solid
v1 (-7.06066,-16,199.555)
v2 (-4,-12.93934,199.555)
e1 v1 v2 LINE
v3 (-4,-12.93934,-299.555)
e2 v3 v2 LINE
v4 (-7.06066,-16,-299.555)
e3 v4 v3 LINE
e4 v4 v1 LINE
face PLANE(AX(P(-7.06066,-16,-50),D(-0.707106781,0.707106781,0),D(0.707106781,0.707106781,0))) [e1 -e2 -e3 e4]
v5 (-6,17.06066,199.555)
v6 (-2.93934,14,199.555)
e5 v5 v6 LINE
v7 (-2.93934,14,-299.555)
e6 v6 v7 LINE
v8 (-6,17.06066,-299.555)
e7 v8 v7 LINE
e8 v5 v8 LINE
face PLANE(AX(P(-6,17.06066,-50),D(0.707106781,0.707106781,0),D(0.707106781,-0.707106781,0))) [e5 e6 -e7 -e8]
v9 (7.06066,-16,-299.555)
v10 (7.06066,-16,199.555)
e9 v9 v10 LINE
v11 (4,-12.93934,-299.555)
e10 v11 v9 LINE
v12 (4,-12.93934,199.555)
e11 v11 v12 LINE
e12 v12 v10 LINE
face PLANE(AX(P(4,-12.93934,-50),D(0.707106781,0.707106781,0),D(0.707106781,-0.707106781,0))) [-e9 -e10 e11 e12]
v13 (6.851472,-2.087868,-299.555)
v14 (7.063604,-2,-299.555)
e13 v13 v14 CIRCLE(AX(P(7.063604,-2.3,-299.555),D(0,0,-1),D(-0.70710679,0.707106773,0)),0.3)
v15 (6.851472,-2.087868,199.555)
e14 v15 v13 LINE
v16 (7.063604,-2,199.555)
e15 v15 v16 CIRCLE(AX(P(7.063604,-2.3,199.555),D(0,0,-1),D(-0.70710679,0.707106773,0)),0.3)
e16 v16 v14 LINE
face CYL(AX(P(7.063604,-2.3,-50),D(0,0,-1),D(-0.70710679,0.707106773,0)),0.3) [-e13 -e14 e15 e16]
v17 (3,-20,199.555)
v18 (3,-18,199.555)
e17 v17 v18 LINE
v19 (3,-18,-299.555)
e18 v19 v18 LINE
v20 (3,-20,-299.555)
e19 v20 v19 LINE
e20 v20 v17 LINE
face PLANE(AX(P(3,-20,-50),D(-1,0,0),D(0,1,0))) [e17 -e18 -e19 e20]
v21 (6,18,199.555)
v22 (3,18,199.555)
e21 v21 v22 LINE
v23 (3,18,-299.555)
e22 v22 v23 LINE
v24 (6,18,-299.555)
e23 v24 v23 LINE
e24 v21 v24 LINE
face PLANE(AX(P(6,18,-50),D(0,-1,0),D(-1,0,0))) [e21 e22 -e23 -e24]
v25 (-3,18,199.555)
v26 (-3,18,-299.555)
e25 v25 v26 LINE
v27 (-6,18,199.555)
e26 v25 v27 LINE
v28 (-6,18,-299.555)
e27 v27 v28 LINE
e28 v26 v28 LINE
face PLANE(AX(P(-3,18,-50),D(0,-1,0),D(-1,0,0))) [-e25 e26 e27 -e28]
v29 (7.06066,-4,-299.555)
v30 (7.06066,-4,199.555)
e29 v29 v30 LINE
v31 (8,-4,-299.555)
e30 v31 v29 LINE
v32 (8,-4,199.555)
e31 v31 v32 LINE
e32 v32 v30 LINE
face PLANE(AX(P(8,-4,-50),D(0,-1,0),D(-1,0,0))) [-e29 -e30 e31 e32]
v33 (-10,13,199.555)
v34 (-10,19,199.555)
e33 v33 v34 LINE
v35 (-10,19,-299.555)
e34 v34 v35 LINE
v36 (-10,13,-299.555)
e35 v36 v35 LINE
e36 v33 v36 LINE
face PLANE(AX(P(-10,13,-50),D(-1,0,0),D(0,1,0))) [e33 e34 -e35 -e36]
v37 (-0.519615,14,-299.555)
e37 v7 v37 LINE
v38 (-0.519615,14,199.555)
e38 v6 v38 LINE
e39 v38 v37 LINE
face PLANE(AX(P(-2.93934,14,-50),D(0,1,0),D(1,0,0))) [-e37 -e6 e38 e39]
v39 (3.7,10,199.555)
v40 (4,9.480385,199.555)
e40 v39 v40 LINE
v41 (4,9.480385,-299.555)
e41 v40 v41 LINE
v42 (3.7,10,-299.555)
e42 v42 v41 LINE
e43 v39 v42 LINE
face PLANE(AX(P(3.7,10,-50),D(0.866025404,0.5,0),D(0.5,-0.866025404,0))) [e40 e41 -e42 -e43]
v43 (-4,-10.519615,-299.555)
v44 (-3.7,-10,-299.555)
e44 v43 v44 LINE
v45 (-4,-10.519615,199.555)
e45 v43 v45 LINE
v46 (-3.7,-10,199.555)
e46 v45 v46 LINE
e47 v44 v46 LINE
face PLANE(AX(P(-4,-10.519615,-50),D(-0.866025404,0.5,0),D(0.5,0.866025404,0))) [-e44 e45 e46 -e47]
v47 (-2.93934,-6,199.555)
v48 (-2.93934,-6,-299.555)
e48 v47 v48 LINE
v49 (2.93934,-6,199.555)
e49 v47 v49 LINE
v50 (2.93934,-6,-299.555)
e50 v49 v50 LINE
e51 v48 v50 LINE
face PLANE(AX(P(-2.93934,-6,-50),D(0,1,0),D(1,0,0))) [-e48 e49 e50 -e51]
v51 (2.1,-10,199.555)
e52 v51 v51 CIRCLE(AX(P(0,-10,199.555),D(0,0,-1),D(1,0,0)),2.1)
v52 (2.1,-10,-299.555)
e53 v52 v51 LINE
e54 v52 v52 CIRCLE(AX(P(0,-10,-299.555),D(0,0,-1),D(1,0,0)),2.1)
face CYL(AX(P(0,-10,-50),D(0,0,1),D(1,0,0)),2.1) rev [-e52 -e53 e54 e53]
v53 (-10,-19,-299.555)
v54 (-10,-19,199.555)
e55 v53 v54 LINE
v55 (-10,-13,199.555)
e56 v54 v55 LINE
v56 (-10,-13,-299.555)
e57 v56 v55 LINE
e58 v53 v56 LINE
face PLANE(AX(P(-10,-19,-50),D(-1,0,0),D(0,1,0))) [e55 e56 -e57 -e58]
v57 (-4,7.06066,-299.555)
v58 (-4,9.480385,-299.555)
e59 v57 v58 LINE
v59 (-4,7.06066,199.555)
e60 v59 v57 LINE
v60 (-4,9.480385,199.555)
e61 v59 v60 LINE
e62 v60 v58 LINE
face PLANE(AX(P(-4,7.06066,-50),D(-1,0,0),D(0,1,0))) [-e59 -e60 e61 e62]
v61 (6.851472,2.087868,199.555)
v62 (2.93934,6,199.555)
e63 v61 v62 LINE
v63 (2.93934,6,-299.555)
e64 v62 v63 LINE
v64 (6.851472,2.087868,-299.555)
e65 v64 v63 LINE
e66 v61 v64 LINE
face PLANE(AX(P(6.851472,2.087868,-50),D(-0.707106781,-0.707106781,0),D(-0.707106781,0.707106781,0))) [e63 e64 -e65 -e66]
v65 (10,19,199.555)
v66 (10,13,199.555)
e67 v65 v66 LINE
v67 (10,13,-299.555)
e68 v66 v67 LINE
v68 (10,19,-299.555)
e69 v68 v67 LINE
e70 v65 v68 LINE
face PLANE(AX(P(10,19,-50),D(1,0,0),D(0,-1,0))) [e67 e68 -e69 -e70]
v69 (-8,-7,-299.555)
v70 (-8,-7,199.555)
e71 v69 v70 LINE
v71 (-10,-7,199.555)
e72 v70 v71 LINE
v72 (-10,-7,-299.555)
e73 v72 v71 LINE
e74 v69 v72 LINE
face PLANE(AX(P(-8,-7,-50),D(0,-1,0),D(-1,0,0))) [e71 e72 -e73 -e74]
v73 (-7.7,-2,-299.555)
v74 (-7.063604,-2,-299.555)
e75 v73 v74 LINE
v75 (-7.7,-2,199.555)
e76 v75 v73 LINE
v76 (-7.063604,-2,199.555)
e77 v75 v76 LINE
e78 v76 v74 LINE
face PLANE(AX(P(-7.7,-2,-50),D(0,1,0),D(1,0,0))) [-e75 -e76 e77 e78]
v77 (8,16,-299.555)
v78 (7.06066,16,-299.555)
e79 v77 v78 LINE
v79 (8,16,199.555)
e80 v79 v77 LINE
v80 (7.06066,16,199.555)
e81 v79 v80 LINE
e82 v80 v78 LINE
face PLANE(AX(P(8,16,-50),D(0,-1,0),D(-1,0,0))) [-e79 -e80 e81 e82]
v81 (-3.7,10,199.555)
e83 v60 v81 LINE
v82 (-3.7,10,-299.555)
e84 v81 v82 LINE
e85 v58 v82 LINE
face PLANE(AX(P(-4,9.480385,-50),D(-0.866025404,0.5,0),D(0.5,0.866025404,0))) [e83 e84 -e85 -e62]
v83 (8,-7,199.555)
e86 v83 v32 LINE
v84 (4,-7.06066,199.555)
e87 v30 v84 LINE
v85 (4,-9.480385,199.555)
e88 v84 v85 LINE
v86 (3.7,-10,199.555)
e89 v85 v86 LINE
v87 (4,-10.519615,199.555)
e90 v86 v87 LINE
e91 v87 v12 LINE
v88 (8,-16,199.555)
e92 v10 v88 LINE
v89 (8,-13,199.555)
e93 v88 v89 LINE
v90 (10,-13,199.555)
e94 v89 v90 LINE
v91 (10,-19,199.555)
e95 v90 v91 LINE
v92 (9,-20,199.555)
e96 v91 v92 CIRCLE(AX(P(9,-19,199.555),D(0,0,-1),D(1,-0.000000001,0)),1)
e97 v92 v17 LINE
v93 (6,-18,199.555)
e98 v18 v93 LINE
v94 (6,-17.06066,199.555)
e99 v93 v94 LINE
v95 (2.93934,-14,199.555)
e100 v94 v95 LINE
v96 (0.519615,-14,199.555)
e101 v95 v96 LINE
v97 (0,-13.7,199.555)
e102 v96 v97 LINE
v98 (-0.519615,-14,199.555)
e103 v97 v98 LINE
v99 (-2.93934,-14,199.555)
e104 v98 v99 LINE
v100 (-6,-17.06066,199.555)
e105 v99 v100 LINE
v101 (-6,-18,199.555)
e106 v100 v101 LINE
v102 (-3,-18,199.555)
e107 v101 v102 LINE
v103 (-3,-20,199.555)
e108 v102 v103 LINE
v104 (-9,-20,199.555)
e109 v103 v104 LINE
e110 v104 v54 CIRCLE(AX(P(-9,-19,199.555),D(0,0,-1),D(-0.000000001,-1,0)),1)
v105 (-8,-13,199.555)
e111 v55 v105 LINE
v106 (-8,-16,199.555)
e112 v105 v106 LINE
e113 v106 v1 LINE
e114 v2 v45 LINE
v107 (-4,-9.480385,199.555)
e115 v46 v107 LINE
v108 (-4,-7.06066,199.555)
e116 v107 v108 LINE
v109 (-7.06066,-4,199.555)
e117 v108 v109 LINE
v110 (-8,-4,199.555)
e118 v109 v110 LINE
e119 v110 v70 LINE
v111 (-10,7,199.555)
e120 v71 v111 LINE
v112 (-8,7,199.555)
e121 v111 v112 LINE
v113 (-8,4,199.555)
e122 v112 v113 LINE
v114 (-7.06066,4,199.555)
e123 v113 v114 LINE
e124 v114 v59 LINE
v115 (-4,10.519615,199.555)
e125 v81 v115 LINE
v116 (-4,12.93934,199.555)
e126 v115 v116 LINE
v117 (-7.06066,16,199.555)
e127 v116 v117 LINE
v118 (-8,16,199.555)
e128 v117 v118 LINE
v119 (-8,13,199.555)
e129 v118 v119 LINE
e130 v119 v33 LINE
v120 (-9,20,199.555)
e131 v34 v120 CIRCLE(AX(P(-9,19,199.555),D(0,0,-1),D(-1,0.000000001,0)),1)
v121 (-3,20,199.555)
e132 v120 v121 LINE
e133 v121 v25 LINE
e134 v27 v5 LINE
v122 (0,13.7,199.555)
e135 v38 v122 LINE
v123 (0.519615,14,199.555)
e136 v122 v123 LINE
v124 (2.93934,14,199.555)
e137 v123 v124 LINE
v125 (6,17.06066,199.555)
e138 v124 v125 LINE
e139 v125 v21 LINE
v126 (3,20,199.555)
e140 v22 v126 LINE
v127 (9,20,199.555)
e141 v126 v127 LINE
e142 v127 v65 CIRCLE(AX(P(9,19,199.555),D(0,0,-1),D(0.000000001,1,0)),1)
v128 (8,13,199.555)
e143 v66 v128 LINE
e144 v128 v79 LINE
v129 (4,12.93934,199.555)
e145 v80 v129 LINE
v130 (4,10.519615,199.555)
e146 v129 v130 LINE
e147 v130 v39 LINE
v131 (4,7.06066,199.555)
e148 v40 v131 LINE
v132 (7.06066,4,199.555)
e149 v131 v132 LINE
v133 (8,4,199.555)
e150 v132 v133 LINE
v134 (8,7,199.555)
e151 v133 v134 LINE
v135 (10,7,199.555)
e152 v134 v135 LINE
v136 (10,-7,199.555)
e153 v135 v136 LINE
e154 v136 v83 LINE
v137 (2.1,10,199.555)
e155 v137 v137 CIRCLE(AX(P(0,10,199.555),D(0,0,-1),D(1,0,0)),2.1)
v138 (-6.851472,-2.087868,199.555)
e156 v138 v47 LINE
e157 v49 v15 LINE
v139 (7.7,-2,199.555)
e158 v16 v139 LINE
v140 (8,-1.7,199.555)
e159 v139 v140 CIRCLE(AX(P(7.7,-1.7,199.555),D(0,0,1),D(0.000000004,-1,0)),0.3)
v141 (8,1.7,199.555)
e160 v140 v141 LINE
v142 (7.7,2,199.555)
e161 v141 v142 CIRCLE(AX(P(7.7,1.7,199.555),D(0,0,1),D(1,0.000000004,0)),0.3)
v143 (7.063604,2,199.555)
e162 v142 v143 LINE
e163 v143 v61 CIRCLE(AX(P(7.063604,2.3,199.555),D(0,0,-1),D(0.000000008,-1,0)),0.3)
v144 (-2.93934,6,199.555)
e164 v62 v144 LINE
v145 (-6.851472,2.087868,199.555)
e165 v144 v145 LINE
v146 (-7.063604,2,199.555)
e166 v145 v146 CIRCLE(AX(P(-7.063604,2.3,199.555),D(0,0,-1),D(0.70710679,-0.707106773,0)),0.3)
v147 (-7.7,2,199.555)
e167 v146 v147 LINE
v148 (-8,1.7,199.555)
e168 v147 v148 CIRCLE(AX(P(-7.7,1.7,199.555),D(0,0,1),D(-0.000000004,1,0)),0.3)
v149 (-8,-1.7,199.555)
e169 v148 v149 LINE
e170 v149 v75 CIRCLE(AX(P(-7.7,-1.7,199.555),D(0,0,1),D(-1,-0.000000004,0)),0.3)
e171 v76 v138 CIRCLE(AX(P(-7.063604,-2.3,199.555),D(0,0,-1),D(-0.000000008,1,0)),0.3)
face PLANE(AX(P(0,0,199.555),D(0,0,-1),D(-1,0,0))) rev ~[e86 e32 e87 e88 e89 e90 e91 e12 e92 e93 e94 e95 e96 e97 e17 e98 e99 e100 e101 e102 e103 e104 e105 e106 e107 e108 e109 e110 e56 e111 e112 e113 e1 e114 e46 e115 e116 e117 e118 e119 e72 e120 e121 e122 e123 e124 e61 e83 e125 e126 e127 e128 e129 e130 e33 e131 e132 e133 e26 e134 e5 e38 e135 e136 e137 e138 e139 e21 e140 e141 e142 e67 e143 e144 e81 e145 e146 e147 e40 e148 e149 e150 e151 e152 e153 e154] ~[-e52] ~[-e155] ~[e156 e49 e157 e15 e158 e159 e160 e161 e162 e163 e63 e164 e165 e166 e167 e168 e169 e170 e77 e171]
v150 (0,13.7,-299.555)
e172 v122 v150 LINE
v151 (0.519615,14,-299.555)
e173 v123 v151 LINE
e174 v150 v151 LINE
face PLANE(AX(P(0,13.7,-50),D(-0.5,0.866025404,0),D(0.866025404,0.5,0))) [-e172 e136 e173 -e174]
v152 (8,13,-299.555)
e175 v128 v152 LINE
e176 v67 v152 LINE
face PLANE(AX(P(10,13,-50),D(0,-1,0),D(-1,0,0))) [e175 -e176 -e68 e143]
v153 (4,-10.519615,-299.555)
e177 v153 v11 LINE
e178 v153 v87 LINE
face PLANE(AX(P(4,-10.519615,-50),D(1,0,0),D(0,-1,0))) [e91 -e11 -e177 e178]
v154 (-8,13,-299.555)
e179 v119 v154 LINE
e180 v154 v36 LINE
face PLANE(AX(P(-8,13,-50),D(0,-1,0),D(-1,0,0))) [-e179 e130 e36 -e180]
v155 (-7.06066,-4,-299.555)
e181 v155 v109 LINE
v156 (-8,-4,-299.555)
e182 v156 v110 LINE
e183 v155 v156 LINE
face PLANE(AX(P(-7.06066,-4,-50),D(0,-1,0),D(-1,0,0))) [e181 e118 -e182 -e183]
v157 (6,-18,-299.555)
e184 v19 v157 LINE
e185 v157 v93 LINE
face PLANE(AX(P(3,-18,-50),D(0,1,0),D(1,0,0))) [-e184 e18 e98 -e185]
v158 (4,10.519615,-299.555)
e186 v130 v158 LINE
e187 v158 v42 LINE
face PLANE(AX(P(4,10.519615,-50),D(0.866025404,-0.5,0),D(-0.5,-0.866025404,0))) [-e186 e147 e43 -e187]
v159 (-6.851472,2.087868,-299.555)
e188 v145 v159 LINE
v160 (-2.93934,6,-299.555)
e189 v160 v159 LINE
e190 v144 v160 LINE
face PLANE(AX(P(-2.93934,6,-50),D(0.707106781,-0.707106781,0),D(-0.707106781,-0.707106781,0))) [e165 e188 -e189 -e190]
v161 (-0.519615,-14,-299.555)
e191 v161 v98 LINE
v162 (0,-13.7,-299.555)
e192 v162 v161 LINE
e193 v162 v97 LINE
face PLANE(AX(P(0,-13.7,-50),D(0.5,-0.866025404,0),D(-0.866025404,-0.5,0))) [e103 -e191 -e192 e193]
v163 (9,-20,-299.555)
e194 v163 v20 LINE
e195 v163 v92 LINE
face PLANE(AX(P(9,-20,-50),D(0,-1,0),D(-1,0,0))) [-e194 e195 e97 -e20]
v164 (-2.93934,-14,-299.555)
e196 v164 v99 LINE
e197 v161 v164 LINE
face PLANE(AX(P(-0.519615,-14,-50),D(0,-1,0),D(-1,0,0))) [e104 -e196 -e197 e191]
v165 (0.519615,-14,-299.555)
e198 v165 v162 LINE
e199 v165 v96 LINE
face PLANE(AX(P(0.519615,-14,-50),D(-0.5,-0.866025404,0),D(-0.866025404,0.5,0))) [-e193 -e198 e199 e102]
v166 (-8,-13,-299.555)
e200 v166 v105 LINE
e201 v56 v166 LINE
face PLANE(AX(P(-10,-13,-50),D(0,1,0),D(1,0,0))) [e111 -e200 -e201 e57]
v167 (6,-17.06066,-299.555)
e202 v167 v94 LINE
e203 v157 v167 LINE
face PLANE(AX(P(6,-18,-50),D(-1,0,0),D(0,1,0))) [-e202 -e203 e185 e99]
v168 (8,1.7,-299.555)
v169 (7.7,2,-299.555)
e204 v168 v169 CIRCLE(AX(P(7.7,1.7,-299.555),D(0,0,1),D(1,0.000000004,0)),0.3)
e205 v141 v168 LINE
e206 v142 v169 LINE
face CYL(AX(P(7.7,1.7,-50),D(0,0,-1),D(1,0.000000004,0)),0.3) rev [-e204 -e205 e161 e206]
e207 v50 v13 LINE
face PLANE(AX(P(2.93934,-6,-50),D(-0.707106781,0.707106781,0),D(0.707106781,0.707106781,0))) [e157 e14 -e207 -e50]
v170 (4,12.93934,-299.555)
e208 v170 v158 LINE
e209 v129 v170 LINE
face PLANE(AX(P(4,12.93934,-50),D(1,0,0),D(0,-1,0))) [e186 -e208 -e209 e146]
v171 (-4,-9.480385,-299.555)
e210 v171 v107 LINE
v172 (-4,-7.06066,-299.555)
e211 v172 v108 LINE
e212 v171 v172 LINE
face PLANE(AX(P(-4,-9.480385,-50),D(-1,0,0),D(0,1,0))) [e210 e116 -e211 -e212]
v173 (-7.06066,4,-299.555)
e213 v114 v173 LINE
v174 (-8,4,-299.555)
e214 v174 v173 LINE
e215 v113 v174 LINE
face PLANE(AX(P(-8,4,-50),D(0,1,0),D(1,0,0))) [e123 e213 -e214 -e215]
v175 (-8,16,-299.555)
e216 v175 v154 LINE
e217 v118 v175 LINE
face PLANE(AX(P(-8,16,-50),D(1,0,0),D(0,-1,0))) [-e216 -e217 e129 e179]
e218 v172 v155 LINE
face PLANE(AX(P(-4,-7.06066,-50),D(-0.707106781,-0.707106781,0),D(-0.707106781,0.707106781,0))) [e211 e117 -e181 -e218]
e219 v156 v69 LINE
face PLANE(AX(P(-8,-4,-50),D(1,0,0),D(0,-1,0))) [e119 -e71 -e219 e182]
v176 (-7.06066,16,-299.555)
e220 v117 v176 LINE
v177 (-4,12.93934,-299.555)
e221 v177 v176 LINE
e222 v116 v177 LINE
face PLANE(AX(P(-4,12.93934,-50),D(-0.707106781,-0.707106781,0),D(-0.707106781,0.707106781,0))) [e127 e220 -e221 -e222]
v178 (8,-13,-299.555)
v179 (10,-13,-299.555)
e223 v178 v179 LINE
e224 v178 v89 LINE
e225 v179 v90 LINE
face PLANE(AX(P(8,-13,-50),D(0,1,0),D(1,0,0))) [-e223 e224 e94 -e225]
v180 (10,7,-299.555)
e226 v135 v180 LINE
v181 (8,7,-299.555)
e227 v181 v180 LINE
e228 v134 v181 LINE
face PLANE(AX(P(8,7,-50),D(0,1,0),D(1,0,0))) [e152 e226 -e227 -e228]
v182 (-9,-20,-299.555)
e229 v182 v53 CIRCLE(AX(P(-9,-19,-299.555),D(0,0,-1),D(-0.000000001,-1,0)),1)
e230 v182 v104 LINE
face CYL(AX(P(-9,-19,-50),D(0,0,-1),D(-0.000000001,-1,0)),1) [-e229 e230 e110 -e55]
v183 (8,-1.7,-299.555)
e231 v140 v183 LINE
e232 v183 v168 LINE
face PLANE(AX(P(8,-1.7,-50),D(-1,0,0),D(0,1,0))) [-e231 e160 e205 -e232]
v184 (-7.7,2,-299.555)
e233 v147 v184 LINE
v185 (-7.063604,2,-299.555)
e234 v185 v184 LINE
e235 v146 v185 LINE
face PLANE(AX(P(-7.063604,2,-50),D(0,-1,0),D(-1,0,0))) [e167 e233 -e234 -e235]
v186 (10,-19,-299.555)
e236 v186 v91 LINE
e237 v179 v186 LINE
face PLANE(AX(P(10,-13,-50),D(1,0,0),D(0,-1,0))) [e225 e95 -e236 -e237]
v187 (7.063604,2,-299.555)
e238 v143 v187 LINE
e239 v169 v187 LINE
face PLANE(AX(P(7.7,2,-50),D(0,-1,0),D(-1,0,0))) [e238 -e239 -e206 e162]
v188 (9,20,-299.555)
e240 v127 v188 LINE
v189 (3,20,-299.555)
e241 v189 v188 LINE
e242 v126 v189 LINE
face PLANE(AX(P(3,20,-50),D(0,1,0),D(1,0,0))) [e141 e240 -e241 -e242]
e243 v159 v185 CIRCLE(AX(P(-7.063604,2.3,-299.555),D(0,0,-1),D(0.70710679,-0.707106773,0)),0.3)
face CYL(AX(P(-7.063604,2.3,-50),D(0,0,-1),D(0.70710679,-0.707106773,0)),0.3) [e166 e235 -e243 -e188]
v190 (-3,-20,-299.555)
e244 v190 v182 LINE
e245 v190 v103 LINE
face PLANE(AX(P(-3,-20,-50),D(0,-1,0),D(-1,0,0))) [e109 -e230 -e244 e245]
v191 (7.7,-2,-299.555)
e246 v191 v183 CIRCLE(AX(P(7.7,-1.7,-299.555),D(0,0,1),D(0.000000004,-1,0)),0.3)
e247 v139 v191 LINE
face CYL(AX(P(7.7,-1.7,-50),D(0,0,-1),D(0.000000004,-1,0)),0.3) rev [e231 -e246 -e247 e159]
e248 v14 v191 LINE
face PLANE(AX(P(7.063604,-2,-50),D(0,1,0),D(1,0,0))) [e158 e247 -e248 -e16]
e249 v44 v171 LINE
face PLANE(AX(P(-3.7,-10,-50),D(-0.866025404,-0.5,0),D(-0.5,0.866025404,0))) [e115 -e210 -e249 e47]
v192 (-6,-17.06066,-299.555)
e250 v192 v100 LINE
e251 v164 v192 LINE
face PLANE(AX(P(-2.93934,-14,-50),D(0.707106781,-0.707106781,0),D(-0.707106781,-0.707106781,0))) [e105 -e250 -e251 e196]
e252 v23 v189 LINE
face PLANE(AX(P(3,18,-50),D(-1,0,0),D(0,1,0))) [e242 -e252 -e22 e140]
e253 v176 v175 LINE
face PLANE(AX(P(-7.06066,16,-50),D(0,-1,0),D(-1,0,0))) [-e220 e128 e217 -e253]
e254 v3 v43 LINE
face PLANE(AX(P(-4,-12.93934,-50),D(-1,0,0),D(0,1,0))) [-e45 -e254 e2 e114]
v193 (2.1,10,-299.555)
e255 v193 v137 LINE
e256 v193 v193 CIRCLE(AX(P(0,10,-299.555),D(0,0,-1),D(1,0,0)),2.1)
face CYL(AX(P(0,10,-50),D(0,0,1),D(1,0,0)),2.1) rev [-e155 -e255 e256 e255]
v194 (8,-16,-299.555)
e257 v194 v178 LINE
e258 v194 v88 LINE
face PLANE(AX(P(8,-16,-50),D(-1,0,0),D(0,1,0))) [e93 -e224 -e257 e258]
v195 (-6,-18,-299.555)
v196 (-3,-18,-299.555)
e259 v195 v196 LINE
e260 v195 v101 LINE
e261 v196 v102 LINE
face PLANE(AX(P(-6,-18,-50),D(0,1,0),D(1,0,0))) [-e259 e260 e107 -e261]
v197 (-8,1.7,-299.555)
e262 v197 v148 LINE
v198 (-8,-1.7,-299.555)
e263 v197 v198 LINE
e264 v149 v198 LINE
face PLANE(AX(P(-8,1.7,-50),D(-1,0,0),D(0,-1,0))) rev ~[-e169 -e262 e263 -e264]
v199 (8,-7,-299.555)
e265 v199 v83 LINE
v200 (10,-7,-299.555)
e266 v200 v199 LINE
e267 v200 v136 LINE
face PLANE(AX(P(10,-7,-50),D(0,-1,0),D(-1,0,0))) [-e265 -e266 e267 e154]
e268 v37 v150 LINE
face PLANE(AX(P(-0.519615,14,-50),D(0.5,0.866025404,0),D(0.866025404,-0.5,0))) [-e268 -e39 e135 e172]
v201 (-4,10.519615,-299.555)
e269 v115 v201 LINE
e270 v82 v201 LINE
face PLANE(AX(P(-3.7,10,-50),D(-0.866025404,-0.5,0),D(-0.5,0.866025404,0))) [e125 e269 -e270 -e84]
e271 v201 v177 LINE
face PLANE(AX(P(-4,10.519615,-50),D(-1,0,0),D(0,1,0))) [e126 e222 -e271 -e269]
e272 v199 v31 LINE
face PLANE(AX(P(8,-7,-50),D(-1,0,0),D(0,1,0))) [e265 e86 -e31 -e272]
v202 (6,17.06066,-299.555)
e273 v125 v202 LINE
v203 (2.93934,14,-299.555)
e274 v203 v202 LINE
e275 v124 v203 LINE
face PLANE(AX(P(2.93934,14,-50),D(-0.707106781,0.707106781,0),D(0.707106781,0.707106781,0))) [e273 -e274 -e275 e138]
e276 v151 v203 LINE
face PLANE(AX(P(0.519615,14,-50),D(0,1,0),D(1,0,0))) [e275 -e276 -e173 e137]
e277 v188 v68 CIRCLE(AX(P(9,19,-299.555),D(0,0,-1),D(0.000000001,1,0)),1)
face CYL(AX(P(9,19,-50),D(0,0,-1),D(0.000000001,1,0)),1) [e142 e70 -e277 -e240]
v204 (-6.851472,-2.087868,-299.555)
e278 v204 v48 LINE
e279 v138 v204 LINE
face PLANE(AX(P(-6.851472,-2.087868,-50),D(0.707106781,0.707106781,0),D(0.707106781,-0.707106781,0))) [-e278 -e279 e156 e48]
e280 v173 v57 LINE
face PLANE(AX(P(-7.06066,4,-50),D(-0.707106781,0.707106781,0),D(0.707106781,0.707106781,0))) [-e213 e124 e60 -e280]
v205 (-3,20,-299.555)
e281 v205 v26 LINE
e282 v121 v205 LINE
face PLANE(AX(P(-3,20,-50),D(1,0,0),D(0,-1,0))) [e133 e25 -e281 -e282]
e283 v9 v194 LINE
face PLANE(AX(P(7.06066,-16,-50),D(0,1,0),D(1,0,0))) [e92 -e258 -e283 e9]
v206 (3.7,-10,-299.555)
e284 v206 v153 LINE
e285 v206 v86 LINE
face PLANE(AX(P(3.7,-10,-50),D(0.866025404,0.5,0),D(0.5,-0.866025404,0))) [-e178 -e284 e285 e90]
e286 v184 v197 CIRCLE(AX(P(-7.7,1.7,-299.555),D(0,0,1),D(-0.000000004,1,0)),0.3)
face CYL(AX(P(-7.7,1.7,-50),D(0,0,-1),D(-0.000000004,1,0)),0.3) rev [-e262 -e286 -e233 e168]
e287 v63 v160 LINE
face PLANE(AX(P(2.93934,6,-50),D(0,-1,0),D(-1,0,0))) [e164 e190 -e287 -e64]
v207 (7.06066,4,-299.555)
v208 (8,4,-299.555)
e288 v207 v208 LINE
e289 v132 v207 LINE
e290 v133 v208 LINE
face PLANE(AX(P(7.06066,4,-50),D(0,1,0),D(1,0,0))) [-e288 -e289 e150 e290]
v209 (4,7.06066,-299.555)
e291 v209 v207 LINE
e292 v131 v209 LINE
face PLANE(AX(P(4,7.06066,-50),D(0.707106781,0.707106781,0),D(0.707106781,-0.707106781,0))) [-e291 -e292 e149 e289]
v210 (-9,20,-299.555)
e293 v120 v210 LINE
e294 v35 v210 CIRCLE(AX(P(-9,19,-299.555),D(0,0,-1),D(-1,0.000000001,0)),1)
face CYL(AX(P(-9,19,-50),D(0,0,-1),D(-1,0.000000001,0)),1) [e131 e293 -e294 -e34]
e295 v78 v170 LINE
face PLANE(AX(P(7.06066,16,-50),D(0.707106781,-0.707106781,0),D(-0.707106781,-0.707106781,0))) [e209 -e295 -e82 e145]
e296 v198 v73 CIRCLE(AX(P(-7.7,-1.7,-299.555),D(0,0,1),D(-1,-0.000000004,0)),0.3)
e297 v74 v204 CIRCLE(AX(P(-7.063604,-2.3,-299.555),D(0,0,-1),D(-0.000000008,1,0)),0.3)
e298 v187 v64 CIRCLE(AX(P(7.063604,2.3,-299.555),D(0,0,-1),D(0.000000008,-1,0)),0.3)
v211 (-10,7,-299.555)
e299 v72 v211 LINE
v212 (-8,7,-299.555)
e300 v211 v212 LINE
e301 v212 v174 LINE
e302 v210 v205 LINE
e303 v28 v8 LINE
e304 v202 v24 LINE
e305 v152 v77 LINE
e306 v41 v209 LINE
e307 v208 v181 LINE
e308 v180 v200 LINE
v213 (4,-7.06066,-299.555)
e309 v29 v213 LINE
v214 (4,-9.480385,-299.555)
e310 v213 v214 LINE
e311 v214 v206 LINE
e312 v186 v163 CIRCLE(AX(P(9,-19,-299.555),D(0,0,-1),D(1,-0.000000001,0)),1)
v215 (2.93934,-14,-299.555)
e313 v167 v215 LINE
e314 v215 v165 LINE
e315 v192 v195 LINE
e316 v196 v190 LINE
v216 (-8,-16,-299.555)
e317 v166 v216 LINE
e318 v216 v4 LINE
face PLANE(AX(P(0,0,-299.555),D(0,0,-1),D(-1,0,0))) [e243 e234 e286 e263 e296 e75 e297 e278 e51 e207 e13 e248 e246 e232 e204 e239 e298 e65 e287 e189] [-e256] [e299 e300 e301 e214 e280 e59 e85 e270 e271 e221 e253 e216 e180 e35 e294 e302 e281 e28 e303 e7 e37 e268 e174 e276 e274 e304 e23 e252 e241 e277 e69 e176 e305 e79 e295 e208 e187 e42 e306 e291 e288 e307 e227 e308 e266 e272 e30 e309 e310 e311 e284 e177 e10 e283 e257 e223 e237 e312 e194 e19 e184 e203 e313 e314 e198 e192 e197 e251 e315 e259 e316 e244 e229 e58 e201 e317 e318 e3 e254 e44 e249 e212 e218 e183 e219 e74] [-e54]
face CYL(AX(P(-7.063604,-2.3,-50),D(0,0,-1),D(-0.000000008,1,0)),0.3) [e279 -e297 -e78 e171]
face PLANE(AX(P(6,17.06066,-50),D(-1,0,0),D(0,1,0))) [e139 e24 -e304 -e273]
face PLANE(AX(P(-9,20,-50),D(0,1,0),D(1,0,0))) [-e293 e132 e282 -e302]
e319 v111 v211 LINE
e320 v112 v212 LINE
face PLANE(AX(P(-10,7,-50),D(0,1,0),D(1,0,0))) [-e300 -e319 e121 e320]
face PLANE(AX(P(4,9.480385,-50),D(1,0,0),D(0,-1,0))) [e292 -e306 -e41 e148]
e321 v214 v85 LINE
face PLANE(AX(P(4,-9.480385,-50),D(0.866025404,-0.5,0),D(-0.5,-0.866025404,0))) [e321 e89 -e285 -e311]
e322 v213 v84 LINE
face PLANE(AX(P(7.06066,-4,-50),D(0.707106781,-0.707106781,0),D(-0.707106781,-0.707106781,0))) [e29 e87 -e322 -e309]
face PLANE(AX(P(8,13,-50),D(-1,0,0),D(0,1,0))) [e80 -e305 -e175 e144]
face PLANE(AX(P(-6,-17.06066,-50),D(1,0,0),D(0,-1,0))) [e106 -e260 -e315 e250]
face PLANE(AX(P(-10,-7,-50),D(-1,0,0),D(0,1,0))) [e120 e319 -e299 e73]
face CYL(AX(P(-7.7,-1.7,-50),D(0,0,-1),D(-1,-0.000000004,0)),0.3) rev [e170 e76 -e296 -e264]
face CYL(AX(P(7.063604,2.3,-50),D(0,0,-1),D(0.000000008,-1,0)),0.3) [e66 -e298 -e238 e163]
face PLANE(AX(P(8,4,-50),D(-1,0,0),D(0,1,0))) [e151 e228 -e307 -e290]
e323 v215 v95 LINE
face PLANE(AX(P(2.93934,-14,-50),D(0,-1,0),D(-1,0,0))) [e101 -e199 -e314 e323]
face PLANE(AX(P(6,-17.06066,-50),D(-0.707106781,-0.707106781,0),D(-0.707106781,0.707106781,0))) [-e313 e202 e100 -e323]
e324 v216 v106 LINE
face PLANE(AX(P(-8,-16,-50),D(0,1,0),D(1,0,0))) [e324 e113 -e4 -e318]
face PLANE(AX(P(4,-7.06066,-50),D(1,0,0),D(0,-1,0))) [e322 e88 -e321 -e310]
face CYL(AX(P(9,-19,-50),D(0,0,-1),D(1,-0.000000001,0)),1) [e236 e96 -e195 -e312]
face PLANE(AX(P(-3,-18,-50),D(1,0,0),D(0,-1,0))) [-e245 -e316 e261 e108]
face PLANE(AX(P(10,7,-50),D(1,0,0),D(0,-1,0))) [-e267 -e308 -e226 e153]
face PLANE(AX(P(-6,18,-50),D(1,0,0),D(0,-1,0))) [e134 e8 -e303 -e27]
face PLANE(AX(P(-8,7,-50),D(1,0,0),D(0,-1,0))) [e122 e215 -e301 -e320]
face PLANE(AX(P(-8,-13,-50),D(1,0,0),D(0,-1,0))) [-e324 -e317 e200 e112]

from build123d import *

# Parameters (mm, degrees)
SKETCH1_R           = 2.1
BOSS_EXTRUDE1_DEPTH = 249.555


with BuildPart() as part:
    # Sketch1 → Boss-Extrude1 (new, symmetric)
    with BuildSketch(Plane(origin=(0, 0, -50), x_dir=(-1, 0, 0), z_dir=(0, 0, -1))):
        with BuildLine():
            Line((10, -7), (10, 7))
            Line((10, 7), (8, 7))
            Line((8, 7), (8, 4))
            Line((8, 4), (7.060660172, 4))
            Line((7.060660172, 4), (4, 7.060660172))
            Line((4, 7.060660172), (4, 9.480384758))
            Line((4, 9.480384758), (3.7, 10))
            Line((3.7, 10), (4, 10.519615242))
            Line((4, 10.519615242), (4, 12.939339828))
            Line((4, 12.939339828), (7.060660172, 16))
            Line((7.060660172, 16), (8, 16))
            Line((8, 16), (8, 13))
            Line((8, 13), (10, 13))
            Line((10, 13), (10, 19))
            ThreePointArc((10, 19), (9.707106781, 19.707106781), (9, 20))
            Line((9, 20), (3, 20))
            Line((3, 20), (3, 18))
            Line((3, 18), (6, 18))
            Line((6, 18), (6, 17.060660172))
            Line((6, 17.060660172), (2.939339828, 14))
            Line((2.939339828, 14), (0.519615242, 14))
            Line((0.519615242, 14), (0, 13.7))
            Line((0, 13.7), (-0.519615242, 14))
            Line((-0.519615242, 14), (-2.939339828, 14))
            Line((-2.939339828, 14), (-6, 17.060660172))
            Line((-6, 17.060660172), (-6, 18))
            Line((-6, 18), (-3, 18))
            Line((-3, 18), (-3, 20))
            Line((-3, 20), (-9, 20))
            ThreePointArc((-9, 20), (-9.707106781, 19.707106781), (-10, 19))
            Line((-10, 19), (-10, 13))
            Line((-10, 13), (-8, 13))
            Line((-8, 13), (-8, 16))
            Line((-8, 16), (-7.060660172, 16))
            Line((-7.060660172, 16), (-4, 12.939339828))
            Line((-4, 12.939339828), (-4, 10.519615242))
            Line((-4, 10.519615242), (-3.7, 10))
            Line((-3.7, 10), (-4, 9.480384758))
            Line((-4, 9.480384758), (-4, 7.060660172))
            Line((-4, 7.060660172), (-7.060660172, 4))
            Line((-7.060660172, 4), (-8, 4))
            Line((-8, 4), (-8, 7))
            Line((-8, 7), (-10, 7))
            Line((-10, 7), (-10, -7))
            Line((-10, -7), (-8, -7))
            Line((-8, -7), (-8, -4))
            Line((-8, -4), (-7.060660172, -4))
            Line((-7.060660172, -4), (-4, -7.060660172))
            Line((-4, -7.060660172), (-4, -9.480384758))
            Line((-4, -9.480384758), (-3.7, -10))
            Line((-3.7, -10), (-4, -10.519615242))
            Line((-4, -10.519615242), (-4, -12.939339828))
            Line((-4, -12.939339828), (-7.060660172, -16))
            Line((-7.060660172, -16), (-8, -16))
            Line((-8, -16), (-8, -13))
            Line((-8, -13), (-10, -13))
            Line((-10, -13), (-10, -19))
            ThreePointArc((-10, -19), (-9.707106781, -19.707106781), (-9, -20))
            Line((-9, -20), (-3, -20))
            Line((-3, -20), (-3, -18))
            Line((-3, -18), (-6, -18))
            Line((-6, -18), (-6, -17.060660172))
            Line((-6, -17.060660172), (-2.939339828, -14))
            Line((-2.939339828, -14), (-0.519615242, -14))
            Line((-0.519615242, -14), (0, -13.7))
            Line((0, -13.7), (0.519615242, -14))
            Line((0.519615242, -14), (2.939339828, -14))
            Line((2.939339828, -14), (6, -17.060660172))
            Line((6, -17.060660172), (6, -18))
            Line((6, -18), (3, -18))
            Line((3, -18), (3, -20))
            Line((3, -20), (9, -20))
            ThreePointArc((9, -20), (9.707106781, -19.707106781), (10, -19))
            Line((10, -19), (10, -13))
            Line((10, -13), (8, -13))
            Line((8, -13), (8, -16))
            Line((8, -16), (7.060660172, -16))
            Line((7.060660172, -16), (4, -12.939339828))
            Line((4, -12.939339828), (4, -10.519615242))
            Line((4, -10.519615242), (3.7, -10))
            Line((3.7, -10), (4, -9.480384758))
            Line((4, -9.480384758), (4, -7.060660172))
            Line((4, -7.060660172), (7.060660172, -4))
            Line((7.060660172, -4), (8, -4))
            Line((8, -4), (8, -7))
            Line((8, -7), (10, -7))
        make_face()
        with Locations(Location((0, -10, 0), (0, 0, 180))):
            Circle(SKETCH1_R, mode=Mode.SUBTRACT)
        with Locations(Location((0, 10, 0), (0, 0, 180))):
            Circle(SKETCH1_R, mode=Mode.SUBTRACT)
        with BuildLine():
            Line((8, 1.7), (8, -1.7))
            ThreePointArc((8, -1.7), (7.912132034, -1.912132034), (7.7, -2))
            Line((7.7, -2), (7.063603897, -2))
            ThreePointArc((7.063603897, -2), (6.948798867, -2.02283614), (6.851471863, -2.087867966))
            Line((6.851471863, -2.087867966), (2.939339828, -6))
            Line((2.939339828, -6), (-2.939339828, -6))
            Line((-2.939339828, -6), (-6.851471863, -2.087867966))
            ThreePointArc((-6.851471863, -2.087867966), (-6.948798867, -2.02283614), (-7.063603897, -2))
            Line((-7.063603897, -2), (-7.7, -2))
            ThreePointArc((-7.7, -2), (-7.912132034, -1.912132034), (-8, -1.7))
            Line((-8, -1.7), (-8, 1.7))
            ThreePointArc((-8, 1.7), (-7.912132034, 1.912132034), (-7.7, 2))
            Line((-7.7, 2), (-7.063603897, 2))
            ThreePointArc((-7.063603897, 2), (-6.948798867, 2.02283614), (-6.851471863, 2.087867966))
            Line((-6.851471863, 2.087867966), (-2.939339828, 6))
            Line((-2.939339828, 6), (2.939339828, 6))
            Line((2.939339828, 6), (6.851471863, 2.087867966))
            ThreePointArc((6.851471863, 2.087867966), (6.948798867, 2.02283614), (7.063603897, 2))
            Line((7.063603897, 2), (7.7, 2))
            ThreePointArc((7.7, 2), (7.912132034, 1.912132034), (8, 1.7))
        make_face(mode=Mode.SUBTRACT)
    extrude(amount=BOSS_EXTRUDE1_DEPTH, both=True)


solid = part.part
